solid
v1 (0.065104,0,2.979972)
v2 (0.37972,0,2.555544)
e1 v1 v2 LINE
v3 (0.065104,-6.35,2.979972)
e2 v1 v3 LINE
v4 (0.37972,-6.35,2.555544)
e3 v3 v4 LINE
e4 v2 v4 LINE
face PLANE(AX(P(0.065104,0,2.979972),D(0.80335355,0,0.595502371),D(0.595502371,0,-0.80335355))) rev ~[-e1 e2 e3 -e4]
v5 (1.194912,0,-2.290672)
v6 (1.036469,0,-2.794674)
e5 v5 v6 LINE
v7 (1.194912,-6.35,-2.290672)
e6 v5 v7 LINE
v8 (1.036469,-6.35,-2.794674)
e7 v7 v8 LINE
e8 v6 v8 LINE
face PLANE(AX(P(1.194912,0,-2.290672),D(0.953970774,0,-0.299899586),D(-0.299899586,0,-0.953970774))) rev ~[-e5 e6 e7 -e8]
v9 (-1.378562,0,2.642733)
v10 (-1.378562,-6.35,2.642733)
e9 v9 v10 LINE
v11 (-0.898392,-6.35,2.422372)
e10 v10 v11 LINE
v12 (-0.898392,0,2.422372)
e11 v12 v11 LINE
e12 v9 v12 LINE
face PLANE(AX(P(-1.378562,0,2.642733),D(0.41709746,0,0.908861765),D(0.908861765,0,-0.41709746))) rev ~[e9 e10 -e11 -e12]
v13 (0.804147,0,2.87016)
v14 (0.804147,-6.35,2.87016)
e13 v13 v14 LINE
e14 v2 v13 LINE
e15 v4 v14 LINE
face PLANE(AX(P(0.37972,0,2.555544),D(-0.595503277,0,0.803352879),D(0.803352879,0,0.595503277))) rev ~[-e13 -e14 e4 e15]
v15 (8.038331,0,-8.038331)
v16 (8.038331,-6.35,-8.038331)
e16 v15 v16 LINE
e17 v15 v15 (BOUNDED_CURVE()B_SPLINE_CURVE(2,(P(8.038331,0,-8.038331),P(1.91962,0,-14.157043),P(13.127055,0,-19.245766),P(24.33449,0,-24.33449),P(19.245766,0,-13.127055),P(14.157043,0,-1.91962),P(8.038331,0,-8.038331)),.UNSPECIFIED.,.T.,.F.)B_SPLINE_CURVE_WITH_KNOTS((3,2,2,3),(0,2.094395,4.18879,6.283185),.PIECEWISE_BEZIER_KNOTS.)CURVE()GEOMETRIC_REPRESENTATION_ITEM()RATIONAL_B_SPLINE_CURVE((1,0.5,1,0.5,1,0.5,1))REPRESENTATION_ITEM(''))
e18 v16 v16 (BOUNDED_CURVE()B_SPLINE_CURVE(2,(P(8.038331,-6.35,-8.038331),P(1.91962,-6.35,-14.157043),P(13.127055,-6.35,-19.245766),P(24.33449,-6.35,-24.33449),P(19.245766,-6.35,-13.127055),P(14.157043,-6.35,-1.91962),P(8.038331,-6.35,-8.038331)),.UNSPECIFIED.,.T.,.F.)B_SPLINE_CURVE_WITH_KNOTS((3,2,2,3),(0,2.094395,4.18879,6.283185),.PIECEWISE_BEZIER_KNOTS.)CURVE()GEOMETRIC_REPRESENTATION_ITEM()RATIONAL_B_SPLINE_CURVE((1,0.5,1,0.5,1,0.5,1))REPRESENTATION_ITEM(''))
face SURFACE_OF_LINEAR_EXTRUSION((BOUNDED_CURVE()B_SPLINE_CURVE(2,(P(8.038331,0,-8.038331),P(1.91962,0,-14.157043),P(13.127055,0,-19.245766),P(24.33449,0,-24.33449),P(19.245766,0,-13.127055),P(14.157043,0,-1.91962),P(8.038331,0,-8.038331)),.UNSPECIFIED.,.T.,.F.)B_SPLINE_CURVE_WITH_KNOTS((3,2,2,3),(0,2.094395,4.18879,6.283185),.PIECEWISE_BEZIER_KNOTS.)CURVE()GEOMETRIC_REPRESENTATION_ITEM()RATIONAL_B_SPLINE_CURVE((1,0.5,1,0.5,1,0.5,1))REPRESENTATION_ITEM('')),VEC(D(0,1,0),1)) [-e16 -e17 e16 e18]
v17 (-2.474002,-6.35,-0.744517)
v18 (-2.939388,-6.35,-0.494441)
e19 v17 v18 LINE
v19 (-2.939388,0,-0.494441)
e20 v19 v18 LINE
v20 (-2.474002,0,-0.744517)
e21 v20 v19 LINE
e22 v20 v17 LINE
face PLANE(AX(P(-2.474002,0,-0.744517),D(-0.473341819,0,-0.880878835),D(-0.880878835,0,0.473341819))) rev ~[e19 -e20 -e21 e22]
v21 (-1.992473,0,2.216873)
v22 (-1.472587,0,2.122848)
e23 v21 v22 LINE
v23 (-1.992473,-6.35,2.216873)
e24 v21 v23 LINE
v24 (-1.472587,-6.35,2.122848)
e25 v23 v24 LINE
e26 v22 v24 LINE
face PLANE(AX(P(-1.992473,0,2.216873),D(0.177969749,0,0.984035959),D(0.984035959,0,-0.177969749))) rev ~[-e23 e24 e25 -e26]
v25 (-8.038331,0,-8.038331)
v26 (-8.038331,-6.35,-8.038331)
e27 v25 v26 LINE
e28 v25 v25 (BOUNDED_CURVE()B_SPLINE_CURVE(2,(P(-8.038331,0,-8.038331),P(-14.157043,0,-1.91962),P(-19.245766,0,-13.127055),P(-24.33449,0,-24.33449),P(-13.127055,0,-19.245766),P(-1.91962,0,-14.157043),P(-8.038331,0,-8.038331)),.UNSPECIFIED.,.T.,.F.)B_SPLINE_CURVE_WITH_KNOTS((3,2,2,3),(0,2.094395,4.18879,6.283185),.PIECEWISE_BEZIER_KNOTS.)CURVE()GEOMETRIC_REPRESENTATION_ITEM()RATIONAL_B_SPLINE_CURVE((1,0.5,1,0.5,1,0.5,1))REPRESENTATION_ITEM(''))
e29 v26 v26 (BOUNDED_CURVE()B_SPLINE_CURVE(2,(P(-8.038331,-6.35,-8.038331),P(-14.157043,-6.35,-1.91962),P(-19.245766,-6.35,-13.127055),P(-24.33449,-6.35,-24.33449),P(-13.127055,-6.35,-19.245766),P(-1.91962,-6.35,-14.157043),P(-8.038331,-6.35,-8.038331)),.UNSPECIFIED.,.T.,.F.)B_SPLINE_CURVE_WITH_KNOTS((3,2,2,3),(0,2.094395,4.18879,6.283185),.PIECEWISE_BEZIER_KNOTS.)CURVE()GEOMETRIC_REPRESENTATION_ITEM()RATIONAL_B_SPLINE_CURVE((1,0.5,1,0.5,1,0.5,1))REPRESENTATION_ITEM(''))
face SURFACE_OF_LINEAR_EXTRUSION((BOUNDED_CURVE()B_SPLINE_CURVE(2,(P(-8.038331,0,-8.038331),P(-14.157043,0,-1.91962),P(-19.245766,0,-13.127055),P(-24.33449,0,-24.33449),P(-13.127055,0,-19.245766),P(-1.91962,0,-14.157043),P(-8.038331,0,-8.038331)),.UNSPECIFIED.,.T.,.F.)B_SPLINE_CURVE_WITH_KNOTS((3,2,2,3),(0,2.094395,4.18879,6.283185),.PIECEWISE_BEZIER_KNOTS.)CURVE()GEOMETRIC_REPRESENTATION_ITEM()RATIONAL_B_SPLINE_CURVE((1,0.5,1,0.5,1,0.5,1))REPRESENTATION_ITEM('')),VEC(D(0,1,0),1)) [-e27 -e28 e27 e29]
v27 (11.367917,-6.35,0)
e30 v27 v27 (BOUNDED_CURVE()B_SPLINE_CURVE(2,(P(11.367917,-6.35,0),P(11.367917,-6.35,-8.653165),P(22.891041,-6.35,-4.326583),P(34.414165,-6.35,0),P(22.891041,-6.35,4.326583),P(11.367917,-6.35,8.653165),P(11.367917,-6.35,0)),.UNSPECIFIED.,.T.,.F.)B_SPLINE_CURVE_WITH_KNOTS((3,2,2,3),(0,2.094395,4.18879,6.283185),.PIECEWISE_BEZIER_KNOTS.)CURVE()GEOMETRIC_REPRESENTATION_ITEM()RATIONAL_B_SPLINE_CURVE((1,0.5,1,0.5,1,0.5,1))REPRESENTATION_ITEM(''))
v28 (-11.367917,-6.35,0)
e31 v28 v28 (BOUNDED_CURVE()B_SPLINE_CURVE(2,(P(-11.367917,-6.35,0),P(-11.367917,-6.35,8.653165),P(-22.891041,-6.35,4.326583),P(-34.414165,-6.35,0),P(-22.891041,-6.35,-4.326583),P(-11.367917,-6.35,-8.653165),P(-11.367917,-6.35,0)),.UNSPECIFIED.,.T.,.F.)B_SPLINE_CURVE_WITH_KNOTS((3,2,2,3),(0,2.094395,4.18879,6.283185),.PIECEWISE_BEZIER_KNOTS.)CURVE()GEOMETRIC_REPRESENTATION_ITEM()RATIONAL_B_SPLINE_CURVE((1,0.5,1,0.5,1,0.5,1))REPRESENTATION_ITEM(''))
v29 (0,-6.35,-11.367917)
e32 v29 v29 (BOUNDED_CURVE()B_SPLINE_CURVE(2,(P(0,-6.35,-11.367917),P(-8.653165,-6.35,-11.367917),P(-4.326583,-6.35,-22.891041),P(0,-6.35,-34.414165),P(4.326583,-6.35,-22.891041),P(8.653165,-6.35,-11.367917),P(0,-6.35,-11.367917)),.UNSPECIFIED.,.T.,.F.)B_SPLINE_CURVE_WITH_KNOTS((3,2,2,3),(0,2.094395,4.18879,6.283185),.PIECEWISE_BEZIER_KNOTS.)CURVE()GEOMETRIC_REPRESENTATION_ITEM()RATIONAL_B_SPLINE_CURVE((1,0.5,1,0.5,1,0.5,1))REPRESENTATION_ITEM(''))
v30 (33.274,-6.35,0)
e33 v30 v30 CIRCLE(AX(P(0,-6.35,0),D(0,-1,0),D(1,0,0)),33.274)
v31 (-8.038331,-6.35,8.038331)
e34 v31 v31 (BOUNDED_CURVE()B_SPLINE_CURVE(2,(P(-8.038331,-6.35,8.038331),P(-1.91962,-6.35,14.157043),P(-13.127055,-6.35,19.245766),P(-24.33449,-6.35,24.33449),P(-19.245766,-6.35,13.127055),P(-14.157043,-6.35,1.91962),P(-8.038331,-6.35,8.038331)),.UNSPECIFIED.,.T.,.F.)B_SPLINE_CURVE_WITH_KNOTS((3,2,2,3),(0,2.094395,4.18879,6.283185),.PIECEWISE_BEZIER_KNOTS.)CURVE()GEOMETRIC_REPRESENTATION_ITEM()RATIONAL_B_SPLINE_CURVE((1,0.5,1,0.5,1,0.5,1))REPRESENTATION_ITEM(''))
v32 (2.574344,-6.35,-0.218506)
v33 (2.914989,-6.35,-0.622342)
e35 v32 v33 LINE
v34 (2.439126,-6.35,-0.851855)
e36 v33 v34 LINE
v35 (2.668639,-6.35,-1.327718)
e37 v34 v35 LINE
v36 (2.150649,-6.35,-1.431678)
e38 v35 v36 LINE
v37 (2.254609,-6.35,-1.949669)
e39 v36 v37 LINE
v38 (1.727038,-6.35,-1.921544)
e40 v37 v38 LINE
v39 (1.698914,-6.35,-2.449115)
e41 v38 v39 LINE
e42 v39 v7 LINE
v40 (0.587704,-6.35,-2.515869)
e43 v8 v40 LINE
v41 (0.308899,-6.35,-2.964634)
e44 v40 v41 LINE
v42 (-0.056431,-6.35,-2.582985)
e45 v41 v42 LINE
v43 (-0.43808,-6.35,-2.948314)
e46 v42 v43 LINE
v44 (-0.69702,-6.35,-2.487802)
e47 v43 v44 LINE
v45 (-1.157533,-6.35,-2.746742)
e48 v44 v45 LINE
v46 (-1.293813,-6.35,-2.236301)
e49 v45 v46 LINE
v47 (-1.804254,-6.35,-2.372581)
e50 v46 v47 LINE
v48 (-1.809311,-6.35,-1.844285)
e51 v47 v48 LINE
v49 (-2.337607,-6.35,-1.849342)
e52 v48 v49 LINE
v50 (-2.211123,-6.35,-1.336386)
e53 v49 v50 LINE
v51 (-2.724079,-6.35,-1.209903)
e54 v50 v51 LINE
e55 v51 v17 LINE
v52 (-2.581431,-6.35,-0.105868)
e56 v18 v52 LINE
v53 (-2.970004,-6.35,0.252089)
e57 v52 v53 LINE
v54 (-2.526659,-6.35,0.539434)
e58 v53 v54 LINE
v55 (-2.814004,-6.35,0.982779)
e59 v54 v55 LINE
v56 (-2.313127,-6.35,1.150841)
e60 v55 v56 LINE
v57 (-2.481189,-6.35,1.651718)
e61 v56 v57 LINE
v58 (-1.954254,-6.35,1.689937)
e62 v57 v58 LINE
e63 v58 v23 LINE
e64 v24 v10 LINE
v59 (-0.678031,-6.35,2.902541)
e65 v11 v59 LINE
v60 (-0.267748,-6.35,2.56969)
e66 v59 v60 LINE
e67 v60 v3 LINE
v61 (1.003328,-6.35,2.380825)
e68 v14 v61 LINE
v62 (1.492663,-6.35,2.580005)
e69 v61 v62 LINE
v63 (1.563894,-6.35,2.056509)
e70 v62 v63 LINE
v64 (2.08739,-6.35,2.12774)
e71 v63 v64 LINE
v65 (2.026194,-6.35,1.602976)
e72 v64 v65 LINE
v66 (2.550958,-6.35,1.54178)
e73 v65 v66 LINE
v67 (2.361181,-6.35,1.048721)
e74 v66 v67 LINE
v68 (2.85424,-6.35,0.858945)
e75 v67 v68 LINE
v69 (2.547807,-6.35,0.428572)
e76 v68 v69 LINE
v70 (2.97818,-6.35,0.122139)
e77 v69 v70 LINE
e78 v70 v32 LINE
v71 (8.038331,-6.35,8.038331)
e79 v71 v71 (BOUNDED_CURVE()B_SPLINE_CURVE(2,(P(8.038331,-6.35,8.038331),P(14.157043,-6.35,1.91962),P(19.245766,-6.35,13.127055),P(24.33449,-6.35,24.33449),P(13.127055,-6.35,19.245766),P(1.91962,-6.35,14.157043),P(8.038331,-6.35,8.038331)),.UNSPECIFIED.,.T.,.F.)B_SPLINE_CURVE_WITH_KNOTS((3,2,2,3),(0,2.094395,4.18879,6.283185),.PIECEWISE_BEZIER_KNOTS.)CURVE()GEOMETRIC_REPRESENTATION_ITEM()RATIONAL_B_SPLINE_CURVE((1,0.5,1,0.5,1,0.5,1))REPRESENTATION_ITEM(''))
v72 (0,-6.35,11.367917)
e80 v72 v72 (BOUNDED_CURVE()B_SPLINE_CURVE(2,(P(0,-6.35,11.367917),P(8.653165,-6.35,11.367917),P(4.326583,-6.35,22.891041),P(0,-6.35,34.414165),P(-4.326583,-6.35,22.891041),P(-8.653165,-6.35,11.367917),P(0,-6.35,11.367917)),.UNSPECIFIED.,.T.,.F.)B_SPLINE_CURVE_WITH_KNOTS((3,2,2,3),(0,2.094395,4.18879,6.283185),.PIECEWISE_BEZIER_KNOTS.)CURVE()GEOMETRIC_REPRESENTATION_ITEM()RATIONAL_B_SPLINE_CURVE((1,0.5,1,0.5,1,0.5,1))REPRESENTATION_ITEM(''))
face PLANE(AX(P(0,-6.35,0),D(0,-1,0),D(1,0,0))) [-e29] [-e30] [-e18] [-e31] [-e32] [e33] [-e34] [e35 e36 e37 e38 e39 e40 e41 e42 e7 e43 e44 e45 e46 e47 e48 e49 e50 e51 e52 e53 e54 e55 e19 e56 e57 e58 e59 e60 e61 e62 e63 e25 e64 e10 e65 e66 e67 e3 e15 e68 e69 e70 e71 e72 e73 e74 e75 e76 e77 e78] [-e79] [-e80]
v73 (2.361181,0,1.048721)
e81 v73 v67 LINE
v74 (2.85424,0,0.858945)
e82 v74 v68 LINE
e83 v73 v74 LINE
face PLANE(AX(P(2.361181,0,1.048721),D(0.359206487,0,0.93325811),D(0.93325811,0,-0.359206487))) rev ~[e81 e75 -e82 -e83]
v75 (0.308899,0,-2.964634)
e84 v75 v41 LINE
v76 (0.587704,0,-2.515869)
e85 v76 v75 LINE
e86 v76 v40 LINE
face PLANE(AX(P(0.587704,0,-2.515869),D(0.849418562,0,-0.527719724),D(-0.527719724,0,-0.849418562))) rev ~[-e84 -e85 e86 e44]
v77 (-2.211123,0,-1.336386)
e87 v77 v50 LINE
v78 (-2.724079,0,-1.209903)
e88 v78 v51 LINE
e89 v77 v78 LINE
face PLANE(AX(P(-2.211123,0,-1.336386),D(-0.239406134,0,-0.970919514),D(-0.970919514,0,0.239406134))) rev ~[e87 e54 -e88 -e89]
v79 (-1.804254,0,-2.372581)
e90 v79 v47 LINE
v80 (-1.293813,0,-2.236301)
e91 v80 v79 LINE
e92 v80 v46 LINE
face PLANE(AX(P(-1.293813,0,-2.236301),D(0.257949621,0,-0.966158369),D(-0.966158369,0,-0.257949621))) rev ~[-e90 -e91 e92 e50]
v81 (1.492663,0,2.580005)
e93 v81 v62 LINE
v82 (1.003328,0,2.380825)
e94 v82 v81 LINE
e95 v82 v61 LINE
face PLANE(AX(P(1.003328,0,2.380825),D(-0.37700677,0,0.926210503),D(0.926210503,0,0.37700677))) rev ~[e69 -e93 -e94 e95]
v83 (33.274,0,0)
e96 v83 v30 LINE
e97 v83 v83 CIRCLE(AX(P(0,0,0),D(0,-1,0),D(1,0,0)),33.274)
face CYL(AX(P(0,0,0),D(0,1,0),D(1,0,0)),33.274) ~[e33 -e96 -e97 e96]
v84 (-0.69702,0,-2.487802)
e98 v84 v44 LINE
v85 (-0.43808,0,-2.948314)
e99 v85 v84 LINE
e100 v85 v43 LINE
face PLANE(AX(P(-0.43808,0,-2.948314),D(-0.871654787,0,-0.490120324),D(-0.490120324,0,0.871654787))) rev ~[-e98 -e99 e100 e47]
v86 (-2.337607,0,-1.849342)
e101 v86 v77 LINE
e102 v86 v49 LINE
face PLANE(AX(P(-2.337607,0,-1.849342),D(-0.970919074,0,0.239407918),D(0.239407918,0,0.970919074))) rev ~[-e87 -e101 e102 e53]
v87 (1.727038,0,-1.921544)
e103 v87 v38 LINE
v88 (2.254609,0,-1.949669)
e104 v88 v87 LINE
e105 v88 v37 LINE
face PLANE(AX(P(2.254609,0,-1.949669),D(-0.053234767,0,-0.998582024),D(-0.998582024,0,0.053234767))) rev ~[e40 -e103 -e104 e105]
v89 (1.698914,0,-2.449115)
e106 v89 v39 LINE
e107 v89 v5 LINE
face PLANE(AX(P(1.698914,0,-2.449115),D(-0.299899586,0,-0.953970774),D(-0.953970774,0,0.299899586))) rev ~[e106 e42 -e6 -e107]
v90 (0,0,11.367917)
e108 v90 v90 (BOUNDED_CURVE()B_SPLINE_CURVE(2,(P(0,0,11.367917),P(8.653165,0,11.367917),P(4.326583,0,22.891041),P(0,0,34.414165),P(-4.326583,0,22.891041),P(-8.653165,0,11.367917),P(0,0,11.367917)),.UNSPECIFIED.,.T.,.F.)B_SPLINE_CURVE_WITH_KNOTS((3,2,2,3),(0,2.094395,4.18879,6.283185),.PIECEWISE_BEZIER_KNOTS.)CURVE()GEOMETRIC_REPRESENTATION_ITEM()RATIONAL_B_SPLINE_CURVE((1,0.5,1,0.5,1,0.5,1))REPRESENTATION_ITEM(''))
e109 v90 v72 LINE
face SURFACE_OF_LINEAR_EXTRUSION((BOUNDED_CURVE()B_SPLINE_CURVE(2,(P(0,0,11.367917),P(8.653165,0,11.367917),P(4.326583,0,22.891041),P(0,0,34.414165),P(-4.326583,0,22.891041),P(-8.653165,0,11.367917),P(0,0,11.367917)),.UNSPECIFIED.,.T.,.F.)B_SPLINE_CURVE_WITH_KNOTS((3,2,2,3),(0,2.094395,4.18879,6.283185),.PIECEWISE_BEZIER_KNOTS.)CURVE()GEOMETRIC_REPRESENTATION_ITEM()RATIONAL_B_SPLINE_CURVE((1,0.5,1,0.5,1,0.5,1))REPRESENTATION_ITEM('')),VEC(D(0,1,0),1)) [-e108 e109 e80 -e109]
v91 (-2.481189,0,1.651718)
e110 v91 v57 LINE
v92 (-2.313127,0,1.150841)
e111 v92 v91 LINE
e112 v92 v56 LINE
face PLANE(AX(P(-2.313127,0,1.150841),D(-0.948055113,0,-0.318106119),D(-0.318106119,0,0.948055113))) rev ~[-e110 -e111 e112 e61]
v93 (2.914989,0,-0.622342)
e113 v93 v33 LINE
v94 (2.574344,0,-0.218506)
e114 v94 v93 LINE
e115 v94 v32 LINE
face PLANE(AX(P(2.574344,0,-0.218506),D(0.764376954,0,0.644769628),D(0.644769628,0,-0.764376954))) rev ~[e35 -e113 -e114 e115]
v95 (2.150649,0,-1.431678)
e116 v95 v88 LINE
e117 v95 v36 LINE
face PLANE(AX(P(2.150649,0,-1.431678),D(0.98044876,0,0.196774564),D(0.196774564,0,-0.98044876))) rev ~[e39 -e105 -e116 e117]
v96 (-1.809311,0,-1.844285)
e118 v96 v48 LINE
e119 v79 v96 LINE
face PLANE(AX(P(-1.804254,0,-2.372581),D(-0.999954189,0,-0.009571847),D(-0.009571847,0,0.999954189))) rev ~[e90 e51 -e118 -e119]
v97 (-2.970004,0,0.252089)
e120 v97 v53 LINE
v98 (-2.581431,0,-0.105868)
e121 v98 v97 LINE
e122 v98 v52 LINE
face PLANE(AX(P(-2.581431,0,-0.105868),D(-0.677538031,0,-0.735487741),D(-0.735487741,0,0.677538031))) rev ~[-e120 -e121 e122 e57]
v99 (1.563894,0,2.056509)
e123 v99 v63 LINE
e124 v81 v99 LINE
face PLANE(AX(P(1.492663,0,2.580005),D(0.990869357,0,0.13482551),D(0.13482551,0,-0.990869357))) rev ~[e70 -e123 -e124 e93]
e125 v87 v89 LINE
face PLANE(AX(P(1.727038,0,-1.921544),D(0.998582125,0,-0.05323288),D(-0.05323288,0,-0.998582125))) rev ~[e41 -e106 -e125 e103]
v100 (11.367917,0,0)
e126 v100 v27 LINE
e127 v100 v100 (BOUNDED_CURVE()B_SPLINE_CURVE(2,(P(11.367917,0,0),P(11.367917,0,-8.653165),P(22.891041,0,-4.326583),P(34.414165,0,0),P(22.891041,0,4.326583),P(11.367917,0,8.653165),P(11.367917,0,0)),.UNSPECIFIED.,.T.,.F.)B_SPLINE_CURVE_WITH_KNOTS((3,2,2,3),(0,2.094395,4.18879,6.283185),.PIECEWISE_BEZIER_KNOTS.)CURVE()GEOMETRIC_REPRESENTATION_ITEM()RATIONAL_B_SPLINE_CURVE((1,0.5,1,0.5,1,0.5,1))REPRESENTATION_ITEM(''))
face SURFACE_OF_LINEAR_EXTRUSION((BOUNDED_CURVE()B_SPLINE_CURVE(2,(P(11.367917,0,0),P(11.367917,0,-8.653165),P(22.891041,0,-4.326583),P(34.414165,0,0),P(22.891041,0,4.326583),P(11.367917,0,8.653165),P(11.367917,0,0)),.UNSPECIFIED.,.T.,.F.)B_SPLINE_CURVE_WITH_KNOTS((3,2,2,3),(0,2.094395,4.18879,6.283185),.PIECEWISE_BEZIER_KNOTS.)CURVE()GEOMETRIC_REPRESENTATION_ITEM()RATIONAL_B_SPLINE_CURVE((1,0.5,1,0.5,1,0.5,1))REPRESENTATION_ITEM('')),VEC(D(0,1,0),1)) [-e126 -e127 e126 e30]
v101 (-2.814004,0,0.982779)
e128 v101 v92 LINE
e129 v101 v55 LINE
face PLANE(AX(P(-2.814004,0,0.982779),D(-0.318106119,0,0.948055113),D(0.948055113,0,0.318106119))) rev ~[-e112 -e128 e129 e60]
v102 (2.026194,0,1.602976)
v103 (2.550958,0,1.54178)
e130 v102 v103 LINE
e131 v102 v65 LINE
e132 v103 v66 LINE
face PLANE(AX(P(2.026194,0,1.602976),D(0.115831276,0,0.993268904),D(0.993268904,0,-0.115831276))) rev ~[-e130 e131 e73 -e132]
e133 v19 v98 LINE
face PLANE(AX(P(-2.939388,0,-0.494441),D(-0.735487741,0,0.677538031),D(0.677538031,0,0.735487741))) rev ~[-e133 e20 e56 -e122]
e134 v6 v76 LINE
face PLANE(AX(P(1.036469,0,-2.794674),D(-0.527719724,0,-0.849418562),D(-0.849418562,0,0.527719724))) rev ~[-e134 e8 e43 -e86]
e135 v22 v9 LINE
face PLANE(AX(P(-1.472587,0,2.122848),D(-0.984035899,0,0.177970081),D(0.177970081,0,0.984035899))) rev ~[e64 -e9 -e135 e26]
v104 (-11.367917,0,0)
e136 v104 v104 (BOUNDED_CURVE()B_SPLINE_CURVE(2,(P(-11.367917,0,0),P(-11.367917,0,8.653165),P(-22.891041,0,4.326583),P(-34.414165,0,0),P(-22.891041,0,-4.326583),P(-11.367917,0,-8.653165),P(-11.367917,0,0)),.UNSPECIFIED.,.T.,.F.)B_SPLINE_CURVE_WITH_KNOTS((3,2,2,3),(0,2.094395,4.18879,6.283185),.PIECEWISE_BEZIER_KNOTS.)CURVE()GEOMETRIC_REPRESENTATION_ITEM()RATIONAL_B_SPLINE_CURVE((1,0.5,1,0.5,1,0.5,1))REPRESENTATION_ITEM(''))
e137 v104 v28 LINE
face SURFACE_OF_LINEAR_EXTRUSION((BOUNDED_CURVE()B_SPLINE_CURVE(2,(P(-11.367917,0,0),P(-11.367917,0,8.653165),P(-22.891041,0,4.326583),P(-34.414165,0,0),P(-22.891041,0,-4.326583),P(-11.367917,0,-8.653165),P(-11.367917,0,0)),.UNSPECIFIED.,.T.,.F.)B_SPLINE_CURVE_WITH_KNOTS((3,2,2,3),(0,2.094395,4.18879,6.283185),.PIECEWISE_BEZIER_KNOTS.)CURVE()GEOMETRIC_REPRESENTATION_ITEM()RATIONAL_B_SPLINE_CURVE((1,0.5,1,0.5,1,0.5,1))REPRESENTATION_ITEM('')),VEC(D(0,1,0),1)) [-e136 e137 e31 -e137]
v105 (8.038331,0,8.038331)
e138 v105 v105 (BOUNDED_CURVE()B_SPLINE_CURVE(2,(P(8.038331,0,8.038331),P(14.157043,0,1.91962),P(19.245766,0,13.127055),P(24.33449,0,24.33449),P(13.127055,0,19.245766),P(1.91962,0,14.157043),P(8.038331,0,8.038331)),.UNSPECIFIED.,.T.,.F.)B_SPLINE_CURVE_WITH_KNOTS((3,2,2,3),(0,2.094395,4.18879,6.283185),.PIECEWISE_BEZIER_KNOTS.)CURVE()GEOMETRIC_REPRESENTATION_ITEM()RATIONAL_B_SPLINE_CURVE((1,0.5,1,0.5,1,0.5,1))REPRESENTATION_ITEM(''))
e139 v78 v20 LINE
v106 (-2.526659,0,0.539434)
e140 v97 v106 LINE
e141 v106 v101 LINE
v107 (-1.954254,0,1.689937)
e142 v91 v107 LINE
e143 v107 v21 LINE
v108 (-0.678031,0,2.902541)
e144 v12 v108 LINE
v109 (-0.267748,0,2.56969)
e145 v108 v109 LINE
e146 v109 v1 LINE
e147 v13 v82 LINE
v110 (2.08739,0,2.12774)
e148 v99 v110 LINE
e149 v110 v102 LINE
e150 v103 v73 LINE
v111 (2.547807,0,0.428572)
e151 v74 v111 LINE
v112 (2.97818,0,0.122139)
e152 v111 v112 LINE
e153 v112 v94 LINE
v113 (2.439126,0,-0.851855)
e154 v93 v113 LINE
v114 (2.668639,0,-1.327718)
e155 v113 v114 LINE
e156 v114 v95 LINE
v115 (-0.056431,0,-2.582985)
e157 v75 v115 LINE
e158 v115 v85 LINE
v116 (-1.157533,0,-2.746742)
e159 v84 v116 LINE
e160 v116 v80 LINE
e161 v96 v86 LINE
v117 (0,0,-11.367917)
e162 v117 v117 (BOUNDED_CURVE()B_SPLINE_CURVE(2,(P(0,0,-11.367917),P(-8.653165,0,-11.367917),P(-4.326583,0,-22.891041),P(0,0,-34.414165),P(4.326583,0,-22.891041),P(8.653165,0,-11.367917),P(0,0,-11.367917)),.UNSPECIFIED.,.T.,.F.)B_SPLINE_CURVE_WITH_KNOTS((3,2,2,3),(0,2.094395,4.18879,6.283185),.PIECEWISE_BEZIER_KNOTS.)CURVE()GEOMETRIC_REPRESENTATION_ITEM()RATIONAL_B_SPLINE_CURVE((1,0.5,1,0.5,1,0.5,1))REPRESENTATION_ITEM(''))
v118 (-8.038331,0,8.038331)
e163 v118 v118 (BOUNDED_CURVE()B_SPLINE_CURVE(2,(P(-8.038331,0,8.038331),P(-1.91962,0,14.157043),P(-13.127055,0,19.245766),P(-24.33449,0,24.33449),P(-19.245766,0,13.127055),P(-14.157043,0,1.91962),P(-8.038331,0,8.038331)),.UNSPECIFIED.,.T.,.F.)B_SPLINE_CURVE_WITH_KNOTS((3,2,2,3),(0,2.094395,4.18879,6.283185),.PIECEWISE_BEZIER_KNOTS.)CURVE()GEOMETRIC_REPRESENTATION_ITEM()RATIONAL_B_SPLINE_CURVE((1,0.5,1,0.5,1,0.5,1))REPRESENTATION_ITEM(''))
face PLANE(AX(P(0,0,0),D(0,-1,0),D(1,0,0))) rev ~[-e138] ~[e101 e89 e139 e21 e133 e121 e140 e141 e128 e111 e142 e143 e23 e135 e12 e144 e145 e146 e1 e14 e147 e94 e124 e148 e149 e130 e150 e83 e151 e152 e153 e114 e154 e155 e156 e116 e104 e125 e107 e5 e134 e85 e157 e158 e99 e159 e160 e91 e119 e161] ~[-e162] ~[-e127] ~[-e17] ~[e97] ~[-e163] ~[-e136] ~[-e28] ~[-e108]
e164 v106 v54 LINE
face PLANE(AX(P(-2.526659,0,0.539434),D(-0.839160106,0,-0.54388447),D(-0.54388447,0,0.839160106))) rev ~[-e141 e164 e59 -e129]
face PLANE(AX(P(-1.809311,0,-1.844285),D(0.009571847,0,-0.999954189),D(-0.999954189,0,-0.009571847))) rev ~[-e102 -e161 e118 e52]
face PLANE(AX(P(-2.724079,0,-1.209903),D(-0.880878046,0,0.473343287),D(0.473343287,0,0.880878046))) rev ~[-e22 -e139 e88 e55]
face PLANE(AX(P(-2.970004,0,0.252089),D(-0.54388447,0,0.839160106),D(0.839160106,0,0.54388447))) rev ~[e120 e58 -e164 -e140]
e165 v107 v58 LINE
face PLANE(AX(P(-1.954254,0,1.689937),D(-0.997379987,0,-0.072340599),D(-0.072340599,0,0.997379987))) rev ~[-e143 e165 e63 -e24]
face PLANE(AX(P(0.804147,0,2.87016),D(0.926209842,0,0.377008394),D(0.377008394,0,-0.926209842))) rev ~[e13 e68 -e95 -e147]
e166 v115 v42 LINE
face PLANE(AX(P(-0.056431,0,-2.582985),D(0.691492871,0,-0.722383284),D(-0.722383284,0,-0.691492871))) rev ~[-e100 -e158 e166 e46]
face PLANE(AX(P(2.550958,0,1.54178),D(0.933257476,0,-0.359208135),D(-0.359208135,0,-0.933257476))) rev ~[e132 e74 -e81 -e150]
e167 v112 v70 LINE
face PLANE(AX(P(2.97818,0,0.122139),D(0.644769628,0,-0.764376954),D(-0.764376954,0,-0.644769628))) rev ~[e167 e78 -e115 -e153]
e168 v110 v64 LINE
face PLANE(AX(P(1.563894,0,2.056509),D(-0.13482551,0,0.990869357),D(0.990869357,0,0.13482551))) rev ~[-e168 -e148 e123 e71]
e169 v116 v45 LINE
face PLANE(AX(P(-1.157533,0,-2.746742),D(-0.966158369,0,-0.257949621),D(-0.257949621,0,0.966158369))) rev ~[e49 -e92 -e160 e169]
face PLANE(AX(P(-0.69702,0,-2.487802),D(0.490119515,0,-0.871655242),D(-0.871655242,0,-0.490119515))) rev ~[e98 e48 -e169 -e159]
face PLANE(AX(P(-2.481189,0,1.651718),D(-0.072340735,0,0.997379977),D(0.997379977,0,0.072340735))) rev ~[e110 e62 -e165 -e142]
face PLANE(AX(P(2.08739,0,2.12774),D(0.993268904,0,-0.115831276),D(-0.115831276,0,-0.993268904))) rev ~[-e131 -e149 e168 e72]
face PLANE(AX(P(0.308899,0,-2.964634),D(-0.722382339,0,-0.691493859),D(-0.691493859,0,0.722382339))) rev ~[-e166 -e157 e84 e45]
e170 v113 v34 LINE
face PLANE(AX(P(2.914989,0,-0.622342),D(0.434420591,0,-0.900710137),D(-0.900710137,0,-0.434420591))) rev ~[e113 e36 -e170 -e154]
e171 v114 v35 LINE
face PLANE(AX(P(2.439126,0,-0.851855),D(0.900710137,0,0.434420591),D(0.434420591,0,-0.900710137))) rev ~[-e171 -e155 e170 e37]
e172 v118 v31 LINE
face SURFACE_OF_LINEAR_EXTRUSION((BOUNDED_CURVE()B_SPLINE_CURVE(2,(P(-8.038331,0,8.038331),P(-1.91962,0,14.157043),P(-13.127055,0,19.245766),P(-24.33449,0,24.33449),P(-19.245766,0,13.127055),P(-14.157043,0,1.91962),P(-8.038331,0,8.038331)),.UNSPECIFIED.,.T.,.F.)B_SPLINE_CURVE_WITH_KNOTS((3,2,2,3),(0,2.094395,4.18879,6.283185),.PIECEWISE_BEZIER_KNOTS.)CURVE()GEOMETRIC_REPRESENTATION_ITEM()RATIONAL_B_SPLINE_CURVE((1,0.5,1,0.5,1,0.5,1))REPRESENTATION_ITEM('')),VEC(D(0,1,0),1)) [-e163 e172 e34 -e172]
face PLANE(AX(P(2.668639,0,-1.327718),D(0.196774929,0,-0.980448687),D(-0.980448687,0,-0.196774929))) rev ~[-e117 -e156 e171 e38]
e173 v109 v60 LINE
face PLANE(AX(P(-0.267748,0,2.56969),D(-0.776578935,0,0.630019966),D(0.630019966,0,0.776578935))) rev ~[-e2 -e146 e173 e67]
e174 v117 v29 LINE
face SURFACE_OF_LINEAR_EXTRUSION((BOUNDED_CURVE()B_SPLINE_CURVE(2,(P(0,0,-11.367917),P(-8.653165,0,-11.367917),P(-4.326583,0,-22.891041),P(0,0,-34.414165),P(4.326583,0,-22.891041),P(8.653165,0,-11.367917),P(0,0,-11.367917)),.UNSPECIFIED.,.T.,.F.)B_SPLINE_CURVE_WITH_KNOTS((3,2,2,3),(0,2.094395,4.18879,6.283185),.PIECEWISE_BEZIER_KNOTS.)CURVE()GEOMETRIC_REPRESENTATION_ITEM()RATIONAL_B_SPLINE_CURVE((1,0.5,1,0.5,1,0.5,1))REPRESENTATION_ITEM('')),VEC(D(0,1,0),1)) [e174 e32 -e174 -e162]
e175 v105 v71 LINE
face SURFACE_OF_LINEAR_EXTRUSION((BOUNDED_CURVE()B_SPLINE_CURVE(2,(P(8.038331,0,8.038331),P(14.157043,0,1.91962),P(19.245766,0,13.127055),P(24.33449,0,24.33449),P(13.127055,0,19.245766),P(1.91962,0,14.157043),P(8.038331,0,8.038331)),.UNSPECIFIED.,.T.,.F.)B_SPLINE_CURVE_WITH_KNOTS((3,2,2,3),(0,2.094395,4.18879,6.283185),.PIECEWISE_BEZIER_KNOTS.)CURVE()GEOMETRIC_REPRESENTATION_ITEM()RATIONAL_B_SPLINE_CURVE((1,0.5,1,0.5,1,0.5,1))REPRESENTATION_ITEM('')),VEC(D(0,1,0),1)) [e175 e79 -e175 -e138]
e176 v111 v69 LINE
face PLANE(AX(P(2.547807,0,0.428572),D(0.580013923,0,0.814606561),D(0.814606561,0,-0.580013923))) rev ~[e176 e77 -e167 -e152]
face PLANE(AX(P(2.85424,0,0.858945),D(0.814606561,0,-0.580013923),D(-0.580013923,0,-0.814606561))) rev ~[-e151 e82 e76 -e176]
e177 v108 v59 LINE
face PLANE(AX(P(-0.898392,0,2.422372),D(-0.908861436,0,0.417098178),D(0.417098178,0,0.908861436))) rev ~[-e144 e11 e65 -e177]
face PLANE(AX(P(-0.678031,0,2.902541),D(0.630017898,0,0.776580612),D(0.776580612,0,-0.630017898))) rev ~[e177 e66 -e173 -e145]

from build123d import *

# Parameters (mm, degrees)
F0_R     = 33.274
F1_DEPTH = 6.35


with BuildPart() as f1:
    # F0 (on Front) → F1 (new body)
    with BuildSketch(Plane.XZ):
        Circle(F0_R)
        with BuildLine():
            add(Edge.make_bspline(
                [(-8.038331, -8.038331), (-14.157043, -1.91962), (-19.245766, -13.127055), (-24.33449, -24.33449), (-13.127055, -19.245766), (-1.91962, -14.157043), (-8.038331, -8.038331)],
                knots=[0, 0, 0, 2.094395, 2.094395, 4.18879, 4.18879, 6.283185, 6.283185, 6.283185], degree=2, weights=[1, 0.5, 1, 0.5, 1, 0.5, 1]))
        make_face(mode=Mode.SUBTRACT)
        with BuildLine():
            add(Edge.make_bspline(
                [(0, -11.367917), (-8.653165, -11.367917), (-4.326583, -22.891041), (0, -34.414165), (4.326583, -22.891041), (8.653165, -11.367917), (0, -11.367917)],
                knots=[0, 0, 0, 2.094395, 2.094395, 4.18879, 4.18879, 6.283185, 6.283185, 6.283185], degree=2, weights=[1, 0.5, 1, 0.5, 1, 0.5, 1]))
        make_face(mode=Mode.SUBTRACT)
        with BuildLine():
            add(Edge.make_bspline(
                [(8.038331, -8.038331), (1.91962, -14.157043), (13.127055, -19.245766), (24.33449, -24.33449), (19.245766, -13.127055), (14.157043, -1.91962), (8.038331, -8.038331)],
                knots=[0, 0, 0, 2.094395, 2.094395, 4.18879, 4.18879, 6.283185, 6.283185, 6.283185], degree=2, weights=[1, 0.5, 1, 0.5, 1, 0.5, 1]))
        make_face(mode=Mode.SUBTRACT)
        with BuildLine():
            add(Edge.make_bspline(
                [(-11.367917, 0), (-11.367917, 8.653165), (-22.891041, 4.326583), (-34.414165, 0), (-22.891041, -4.326583), (-11.367917, -8.653165), (-11.367917, 0)],
                knots=[0, 0, 0, 2.094395, 2.094395, 4.18879, 4.18879, 6.283185, 6.283185, 6.283185], degree=2, weights=[1, 0.5, 1, 0.5, 1, 0.5, 1]))
        make_face(mode=Mode.SUBTRACT)
        with BuildLine():
            add(Edge.make_bspline(
                [(-8.038331, 8.038331), (-1.91962, 14.157043), (-13.127055, 19.245766), (-24.33449, 24.33449), (-19.245766, 13.127055), (-14.157043, 1.91962), (-8.038331, 8.038331)],
                knots=[0, 0, 0, 2.094395, 2.094395, 4.18879, 4.18879, 6.283185, 6.283185, 6.283185], degree=2, weights=[1, 0.5, 1, 0.5, 1, 0.5, 1]))
        make_face(mode=Mode.SUBTRACT)
        Polygon((-2.313127, 1.150841), (-2.481189, 1.651718), (-1.954254, 1.689937), (-1.992473, 2.216873), (-1.472587, 2.122848), (-1.378562, 2.642733), (-0.898392, 2.422372), (-0.678031, 2.902541), (-0.267748, 2.56969), (0.065104, 2.979972), (0.37972, 2.555544), (0.804147, 2.87016), (1.003328, 2.380825), (1.492663, 2.580005), (1.563894, 2.056509), (2.08739, 2.12774), (2.026194, 1.602976), (2.550958, 1.54178), (2.361181, 1.048721), (2.85424, 0.858945), (2.547807, 0.428572), (2.97818, 0.122139), (2.574344, -0.218506), (2.914989, -0.622342), (2.439126, -0.851855), (2.668639, -1.327718), (2.150649, -1.431678), (2.254609, -1.949669), (1.727038, -1.921544), (1.698914, -2.449115), (1.194912, -2.290672), (1.036469, -2.794674), (0.587704, -2.515869), (0.308899, -2.964634), (-0.056431, -2.582985), (-0.43808, -2.948314), (-0.69702, -2.487802), (-1.157533, -2.746742), (-1.293813, -2.236301), (-1.804254, -2.372581), (-1.809311, -1.844285), (-2.337607, -1.849342), (-2.211123, -1.336386), (-2.724079, -1.209903), (-2.474002, -0.744517), (-2.939388, -0.494441), (-2.581431, -0.105868), (-2.970004, 0.252089), (-2.526659, 0.539434), (-2.814004, 0.982779), align=None, mode=Mode.SUBTRACT)
        with BuildLine():
            add(Edge.make_bspline(
                [(8.038331, 8.038331), (14.157043, 1.91962), (19.245766, 13.127055), (24.33449, 24.33449), (13.127055, 19.245766), (1.91962, 14.157043), (8.038331, 8.038331)],
                knots=[0, 0, 0, 2.094395, 2.094395, 4.18879, 4.18879, 6.283185, 6.283185, 6.283185], degree=2, weights=[1, 0.5, 1, 0.5, 1, 0.5, 1]))
        make_face(mode=Mode.SUBTRACT)
        with BuildLine():
            add(Edge.make_bspline(
                [(11.367917, 0), (11.367917, -8.653165), (22.891041, -4.326583), (34.414165, 0), (22.891041, 4.326583), (11.367917, 8.653165), (11.367917, 0)],
                knots=[0, 0, 0, 2.094395, 2.094395, 4.18879, 4.18879, 6.283185, 6.283185, 6.283185], degree=2, weights=[1, 0.5, 1, 0.5, 1, 0.5, 1]))
        make_face(mode=Mode.SUBTRACT)
        with BuildLine():
            add(Edge.make_bspline(
                [(0, 11.367917), (8.653165, 11.367917), (4.326583, 22.891041), (0, 34.414165), (-4.326583, 22.891041), (-8.653165, 11.367917), (0, 11.367917)],
                knots=[0, 0, 0, 2.094395, 2.094395, 4.18879, 4.18879, 6.283185, 6.283185, 6.283185], degree=2, weights=[1, 0.5, 1, 0.5, 1, 0.5, 1]))
        make_face(mode=Mode.SUBTRACT)
    extrude(amount=F1_DEPTH)


solid = f1.part
